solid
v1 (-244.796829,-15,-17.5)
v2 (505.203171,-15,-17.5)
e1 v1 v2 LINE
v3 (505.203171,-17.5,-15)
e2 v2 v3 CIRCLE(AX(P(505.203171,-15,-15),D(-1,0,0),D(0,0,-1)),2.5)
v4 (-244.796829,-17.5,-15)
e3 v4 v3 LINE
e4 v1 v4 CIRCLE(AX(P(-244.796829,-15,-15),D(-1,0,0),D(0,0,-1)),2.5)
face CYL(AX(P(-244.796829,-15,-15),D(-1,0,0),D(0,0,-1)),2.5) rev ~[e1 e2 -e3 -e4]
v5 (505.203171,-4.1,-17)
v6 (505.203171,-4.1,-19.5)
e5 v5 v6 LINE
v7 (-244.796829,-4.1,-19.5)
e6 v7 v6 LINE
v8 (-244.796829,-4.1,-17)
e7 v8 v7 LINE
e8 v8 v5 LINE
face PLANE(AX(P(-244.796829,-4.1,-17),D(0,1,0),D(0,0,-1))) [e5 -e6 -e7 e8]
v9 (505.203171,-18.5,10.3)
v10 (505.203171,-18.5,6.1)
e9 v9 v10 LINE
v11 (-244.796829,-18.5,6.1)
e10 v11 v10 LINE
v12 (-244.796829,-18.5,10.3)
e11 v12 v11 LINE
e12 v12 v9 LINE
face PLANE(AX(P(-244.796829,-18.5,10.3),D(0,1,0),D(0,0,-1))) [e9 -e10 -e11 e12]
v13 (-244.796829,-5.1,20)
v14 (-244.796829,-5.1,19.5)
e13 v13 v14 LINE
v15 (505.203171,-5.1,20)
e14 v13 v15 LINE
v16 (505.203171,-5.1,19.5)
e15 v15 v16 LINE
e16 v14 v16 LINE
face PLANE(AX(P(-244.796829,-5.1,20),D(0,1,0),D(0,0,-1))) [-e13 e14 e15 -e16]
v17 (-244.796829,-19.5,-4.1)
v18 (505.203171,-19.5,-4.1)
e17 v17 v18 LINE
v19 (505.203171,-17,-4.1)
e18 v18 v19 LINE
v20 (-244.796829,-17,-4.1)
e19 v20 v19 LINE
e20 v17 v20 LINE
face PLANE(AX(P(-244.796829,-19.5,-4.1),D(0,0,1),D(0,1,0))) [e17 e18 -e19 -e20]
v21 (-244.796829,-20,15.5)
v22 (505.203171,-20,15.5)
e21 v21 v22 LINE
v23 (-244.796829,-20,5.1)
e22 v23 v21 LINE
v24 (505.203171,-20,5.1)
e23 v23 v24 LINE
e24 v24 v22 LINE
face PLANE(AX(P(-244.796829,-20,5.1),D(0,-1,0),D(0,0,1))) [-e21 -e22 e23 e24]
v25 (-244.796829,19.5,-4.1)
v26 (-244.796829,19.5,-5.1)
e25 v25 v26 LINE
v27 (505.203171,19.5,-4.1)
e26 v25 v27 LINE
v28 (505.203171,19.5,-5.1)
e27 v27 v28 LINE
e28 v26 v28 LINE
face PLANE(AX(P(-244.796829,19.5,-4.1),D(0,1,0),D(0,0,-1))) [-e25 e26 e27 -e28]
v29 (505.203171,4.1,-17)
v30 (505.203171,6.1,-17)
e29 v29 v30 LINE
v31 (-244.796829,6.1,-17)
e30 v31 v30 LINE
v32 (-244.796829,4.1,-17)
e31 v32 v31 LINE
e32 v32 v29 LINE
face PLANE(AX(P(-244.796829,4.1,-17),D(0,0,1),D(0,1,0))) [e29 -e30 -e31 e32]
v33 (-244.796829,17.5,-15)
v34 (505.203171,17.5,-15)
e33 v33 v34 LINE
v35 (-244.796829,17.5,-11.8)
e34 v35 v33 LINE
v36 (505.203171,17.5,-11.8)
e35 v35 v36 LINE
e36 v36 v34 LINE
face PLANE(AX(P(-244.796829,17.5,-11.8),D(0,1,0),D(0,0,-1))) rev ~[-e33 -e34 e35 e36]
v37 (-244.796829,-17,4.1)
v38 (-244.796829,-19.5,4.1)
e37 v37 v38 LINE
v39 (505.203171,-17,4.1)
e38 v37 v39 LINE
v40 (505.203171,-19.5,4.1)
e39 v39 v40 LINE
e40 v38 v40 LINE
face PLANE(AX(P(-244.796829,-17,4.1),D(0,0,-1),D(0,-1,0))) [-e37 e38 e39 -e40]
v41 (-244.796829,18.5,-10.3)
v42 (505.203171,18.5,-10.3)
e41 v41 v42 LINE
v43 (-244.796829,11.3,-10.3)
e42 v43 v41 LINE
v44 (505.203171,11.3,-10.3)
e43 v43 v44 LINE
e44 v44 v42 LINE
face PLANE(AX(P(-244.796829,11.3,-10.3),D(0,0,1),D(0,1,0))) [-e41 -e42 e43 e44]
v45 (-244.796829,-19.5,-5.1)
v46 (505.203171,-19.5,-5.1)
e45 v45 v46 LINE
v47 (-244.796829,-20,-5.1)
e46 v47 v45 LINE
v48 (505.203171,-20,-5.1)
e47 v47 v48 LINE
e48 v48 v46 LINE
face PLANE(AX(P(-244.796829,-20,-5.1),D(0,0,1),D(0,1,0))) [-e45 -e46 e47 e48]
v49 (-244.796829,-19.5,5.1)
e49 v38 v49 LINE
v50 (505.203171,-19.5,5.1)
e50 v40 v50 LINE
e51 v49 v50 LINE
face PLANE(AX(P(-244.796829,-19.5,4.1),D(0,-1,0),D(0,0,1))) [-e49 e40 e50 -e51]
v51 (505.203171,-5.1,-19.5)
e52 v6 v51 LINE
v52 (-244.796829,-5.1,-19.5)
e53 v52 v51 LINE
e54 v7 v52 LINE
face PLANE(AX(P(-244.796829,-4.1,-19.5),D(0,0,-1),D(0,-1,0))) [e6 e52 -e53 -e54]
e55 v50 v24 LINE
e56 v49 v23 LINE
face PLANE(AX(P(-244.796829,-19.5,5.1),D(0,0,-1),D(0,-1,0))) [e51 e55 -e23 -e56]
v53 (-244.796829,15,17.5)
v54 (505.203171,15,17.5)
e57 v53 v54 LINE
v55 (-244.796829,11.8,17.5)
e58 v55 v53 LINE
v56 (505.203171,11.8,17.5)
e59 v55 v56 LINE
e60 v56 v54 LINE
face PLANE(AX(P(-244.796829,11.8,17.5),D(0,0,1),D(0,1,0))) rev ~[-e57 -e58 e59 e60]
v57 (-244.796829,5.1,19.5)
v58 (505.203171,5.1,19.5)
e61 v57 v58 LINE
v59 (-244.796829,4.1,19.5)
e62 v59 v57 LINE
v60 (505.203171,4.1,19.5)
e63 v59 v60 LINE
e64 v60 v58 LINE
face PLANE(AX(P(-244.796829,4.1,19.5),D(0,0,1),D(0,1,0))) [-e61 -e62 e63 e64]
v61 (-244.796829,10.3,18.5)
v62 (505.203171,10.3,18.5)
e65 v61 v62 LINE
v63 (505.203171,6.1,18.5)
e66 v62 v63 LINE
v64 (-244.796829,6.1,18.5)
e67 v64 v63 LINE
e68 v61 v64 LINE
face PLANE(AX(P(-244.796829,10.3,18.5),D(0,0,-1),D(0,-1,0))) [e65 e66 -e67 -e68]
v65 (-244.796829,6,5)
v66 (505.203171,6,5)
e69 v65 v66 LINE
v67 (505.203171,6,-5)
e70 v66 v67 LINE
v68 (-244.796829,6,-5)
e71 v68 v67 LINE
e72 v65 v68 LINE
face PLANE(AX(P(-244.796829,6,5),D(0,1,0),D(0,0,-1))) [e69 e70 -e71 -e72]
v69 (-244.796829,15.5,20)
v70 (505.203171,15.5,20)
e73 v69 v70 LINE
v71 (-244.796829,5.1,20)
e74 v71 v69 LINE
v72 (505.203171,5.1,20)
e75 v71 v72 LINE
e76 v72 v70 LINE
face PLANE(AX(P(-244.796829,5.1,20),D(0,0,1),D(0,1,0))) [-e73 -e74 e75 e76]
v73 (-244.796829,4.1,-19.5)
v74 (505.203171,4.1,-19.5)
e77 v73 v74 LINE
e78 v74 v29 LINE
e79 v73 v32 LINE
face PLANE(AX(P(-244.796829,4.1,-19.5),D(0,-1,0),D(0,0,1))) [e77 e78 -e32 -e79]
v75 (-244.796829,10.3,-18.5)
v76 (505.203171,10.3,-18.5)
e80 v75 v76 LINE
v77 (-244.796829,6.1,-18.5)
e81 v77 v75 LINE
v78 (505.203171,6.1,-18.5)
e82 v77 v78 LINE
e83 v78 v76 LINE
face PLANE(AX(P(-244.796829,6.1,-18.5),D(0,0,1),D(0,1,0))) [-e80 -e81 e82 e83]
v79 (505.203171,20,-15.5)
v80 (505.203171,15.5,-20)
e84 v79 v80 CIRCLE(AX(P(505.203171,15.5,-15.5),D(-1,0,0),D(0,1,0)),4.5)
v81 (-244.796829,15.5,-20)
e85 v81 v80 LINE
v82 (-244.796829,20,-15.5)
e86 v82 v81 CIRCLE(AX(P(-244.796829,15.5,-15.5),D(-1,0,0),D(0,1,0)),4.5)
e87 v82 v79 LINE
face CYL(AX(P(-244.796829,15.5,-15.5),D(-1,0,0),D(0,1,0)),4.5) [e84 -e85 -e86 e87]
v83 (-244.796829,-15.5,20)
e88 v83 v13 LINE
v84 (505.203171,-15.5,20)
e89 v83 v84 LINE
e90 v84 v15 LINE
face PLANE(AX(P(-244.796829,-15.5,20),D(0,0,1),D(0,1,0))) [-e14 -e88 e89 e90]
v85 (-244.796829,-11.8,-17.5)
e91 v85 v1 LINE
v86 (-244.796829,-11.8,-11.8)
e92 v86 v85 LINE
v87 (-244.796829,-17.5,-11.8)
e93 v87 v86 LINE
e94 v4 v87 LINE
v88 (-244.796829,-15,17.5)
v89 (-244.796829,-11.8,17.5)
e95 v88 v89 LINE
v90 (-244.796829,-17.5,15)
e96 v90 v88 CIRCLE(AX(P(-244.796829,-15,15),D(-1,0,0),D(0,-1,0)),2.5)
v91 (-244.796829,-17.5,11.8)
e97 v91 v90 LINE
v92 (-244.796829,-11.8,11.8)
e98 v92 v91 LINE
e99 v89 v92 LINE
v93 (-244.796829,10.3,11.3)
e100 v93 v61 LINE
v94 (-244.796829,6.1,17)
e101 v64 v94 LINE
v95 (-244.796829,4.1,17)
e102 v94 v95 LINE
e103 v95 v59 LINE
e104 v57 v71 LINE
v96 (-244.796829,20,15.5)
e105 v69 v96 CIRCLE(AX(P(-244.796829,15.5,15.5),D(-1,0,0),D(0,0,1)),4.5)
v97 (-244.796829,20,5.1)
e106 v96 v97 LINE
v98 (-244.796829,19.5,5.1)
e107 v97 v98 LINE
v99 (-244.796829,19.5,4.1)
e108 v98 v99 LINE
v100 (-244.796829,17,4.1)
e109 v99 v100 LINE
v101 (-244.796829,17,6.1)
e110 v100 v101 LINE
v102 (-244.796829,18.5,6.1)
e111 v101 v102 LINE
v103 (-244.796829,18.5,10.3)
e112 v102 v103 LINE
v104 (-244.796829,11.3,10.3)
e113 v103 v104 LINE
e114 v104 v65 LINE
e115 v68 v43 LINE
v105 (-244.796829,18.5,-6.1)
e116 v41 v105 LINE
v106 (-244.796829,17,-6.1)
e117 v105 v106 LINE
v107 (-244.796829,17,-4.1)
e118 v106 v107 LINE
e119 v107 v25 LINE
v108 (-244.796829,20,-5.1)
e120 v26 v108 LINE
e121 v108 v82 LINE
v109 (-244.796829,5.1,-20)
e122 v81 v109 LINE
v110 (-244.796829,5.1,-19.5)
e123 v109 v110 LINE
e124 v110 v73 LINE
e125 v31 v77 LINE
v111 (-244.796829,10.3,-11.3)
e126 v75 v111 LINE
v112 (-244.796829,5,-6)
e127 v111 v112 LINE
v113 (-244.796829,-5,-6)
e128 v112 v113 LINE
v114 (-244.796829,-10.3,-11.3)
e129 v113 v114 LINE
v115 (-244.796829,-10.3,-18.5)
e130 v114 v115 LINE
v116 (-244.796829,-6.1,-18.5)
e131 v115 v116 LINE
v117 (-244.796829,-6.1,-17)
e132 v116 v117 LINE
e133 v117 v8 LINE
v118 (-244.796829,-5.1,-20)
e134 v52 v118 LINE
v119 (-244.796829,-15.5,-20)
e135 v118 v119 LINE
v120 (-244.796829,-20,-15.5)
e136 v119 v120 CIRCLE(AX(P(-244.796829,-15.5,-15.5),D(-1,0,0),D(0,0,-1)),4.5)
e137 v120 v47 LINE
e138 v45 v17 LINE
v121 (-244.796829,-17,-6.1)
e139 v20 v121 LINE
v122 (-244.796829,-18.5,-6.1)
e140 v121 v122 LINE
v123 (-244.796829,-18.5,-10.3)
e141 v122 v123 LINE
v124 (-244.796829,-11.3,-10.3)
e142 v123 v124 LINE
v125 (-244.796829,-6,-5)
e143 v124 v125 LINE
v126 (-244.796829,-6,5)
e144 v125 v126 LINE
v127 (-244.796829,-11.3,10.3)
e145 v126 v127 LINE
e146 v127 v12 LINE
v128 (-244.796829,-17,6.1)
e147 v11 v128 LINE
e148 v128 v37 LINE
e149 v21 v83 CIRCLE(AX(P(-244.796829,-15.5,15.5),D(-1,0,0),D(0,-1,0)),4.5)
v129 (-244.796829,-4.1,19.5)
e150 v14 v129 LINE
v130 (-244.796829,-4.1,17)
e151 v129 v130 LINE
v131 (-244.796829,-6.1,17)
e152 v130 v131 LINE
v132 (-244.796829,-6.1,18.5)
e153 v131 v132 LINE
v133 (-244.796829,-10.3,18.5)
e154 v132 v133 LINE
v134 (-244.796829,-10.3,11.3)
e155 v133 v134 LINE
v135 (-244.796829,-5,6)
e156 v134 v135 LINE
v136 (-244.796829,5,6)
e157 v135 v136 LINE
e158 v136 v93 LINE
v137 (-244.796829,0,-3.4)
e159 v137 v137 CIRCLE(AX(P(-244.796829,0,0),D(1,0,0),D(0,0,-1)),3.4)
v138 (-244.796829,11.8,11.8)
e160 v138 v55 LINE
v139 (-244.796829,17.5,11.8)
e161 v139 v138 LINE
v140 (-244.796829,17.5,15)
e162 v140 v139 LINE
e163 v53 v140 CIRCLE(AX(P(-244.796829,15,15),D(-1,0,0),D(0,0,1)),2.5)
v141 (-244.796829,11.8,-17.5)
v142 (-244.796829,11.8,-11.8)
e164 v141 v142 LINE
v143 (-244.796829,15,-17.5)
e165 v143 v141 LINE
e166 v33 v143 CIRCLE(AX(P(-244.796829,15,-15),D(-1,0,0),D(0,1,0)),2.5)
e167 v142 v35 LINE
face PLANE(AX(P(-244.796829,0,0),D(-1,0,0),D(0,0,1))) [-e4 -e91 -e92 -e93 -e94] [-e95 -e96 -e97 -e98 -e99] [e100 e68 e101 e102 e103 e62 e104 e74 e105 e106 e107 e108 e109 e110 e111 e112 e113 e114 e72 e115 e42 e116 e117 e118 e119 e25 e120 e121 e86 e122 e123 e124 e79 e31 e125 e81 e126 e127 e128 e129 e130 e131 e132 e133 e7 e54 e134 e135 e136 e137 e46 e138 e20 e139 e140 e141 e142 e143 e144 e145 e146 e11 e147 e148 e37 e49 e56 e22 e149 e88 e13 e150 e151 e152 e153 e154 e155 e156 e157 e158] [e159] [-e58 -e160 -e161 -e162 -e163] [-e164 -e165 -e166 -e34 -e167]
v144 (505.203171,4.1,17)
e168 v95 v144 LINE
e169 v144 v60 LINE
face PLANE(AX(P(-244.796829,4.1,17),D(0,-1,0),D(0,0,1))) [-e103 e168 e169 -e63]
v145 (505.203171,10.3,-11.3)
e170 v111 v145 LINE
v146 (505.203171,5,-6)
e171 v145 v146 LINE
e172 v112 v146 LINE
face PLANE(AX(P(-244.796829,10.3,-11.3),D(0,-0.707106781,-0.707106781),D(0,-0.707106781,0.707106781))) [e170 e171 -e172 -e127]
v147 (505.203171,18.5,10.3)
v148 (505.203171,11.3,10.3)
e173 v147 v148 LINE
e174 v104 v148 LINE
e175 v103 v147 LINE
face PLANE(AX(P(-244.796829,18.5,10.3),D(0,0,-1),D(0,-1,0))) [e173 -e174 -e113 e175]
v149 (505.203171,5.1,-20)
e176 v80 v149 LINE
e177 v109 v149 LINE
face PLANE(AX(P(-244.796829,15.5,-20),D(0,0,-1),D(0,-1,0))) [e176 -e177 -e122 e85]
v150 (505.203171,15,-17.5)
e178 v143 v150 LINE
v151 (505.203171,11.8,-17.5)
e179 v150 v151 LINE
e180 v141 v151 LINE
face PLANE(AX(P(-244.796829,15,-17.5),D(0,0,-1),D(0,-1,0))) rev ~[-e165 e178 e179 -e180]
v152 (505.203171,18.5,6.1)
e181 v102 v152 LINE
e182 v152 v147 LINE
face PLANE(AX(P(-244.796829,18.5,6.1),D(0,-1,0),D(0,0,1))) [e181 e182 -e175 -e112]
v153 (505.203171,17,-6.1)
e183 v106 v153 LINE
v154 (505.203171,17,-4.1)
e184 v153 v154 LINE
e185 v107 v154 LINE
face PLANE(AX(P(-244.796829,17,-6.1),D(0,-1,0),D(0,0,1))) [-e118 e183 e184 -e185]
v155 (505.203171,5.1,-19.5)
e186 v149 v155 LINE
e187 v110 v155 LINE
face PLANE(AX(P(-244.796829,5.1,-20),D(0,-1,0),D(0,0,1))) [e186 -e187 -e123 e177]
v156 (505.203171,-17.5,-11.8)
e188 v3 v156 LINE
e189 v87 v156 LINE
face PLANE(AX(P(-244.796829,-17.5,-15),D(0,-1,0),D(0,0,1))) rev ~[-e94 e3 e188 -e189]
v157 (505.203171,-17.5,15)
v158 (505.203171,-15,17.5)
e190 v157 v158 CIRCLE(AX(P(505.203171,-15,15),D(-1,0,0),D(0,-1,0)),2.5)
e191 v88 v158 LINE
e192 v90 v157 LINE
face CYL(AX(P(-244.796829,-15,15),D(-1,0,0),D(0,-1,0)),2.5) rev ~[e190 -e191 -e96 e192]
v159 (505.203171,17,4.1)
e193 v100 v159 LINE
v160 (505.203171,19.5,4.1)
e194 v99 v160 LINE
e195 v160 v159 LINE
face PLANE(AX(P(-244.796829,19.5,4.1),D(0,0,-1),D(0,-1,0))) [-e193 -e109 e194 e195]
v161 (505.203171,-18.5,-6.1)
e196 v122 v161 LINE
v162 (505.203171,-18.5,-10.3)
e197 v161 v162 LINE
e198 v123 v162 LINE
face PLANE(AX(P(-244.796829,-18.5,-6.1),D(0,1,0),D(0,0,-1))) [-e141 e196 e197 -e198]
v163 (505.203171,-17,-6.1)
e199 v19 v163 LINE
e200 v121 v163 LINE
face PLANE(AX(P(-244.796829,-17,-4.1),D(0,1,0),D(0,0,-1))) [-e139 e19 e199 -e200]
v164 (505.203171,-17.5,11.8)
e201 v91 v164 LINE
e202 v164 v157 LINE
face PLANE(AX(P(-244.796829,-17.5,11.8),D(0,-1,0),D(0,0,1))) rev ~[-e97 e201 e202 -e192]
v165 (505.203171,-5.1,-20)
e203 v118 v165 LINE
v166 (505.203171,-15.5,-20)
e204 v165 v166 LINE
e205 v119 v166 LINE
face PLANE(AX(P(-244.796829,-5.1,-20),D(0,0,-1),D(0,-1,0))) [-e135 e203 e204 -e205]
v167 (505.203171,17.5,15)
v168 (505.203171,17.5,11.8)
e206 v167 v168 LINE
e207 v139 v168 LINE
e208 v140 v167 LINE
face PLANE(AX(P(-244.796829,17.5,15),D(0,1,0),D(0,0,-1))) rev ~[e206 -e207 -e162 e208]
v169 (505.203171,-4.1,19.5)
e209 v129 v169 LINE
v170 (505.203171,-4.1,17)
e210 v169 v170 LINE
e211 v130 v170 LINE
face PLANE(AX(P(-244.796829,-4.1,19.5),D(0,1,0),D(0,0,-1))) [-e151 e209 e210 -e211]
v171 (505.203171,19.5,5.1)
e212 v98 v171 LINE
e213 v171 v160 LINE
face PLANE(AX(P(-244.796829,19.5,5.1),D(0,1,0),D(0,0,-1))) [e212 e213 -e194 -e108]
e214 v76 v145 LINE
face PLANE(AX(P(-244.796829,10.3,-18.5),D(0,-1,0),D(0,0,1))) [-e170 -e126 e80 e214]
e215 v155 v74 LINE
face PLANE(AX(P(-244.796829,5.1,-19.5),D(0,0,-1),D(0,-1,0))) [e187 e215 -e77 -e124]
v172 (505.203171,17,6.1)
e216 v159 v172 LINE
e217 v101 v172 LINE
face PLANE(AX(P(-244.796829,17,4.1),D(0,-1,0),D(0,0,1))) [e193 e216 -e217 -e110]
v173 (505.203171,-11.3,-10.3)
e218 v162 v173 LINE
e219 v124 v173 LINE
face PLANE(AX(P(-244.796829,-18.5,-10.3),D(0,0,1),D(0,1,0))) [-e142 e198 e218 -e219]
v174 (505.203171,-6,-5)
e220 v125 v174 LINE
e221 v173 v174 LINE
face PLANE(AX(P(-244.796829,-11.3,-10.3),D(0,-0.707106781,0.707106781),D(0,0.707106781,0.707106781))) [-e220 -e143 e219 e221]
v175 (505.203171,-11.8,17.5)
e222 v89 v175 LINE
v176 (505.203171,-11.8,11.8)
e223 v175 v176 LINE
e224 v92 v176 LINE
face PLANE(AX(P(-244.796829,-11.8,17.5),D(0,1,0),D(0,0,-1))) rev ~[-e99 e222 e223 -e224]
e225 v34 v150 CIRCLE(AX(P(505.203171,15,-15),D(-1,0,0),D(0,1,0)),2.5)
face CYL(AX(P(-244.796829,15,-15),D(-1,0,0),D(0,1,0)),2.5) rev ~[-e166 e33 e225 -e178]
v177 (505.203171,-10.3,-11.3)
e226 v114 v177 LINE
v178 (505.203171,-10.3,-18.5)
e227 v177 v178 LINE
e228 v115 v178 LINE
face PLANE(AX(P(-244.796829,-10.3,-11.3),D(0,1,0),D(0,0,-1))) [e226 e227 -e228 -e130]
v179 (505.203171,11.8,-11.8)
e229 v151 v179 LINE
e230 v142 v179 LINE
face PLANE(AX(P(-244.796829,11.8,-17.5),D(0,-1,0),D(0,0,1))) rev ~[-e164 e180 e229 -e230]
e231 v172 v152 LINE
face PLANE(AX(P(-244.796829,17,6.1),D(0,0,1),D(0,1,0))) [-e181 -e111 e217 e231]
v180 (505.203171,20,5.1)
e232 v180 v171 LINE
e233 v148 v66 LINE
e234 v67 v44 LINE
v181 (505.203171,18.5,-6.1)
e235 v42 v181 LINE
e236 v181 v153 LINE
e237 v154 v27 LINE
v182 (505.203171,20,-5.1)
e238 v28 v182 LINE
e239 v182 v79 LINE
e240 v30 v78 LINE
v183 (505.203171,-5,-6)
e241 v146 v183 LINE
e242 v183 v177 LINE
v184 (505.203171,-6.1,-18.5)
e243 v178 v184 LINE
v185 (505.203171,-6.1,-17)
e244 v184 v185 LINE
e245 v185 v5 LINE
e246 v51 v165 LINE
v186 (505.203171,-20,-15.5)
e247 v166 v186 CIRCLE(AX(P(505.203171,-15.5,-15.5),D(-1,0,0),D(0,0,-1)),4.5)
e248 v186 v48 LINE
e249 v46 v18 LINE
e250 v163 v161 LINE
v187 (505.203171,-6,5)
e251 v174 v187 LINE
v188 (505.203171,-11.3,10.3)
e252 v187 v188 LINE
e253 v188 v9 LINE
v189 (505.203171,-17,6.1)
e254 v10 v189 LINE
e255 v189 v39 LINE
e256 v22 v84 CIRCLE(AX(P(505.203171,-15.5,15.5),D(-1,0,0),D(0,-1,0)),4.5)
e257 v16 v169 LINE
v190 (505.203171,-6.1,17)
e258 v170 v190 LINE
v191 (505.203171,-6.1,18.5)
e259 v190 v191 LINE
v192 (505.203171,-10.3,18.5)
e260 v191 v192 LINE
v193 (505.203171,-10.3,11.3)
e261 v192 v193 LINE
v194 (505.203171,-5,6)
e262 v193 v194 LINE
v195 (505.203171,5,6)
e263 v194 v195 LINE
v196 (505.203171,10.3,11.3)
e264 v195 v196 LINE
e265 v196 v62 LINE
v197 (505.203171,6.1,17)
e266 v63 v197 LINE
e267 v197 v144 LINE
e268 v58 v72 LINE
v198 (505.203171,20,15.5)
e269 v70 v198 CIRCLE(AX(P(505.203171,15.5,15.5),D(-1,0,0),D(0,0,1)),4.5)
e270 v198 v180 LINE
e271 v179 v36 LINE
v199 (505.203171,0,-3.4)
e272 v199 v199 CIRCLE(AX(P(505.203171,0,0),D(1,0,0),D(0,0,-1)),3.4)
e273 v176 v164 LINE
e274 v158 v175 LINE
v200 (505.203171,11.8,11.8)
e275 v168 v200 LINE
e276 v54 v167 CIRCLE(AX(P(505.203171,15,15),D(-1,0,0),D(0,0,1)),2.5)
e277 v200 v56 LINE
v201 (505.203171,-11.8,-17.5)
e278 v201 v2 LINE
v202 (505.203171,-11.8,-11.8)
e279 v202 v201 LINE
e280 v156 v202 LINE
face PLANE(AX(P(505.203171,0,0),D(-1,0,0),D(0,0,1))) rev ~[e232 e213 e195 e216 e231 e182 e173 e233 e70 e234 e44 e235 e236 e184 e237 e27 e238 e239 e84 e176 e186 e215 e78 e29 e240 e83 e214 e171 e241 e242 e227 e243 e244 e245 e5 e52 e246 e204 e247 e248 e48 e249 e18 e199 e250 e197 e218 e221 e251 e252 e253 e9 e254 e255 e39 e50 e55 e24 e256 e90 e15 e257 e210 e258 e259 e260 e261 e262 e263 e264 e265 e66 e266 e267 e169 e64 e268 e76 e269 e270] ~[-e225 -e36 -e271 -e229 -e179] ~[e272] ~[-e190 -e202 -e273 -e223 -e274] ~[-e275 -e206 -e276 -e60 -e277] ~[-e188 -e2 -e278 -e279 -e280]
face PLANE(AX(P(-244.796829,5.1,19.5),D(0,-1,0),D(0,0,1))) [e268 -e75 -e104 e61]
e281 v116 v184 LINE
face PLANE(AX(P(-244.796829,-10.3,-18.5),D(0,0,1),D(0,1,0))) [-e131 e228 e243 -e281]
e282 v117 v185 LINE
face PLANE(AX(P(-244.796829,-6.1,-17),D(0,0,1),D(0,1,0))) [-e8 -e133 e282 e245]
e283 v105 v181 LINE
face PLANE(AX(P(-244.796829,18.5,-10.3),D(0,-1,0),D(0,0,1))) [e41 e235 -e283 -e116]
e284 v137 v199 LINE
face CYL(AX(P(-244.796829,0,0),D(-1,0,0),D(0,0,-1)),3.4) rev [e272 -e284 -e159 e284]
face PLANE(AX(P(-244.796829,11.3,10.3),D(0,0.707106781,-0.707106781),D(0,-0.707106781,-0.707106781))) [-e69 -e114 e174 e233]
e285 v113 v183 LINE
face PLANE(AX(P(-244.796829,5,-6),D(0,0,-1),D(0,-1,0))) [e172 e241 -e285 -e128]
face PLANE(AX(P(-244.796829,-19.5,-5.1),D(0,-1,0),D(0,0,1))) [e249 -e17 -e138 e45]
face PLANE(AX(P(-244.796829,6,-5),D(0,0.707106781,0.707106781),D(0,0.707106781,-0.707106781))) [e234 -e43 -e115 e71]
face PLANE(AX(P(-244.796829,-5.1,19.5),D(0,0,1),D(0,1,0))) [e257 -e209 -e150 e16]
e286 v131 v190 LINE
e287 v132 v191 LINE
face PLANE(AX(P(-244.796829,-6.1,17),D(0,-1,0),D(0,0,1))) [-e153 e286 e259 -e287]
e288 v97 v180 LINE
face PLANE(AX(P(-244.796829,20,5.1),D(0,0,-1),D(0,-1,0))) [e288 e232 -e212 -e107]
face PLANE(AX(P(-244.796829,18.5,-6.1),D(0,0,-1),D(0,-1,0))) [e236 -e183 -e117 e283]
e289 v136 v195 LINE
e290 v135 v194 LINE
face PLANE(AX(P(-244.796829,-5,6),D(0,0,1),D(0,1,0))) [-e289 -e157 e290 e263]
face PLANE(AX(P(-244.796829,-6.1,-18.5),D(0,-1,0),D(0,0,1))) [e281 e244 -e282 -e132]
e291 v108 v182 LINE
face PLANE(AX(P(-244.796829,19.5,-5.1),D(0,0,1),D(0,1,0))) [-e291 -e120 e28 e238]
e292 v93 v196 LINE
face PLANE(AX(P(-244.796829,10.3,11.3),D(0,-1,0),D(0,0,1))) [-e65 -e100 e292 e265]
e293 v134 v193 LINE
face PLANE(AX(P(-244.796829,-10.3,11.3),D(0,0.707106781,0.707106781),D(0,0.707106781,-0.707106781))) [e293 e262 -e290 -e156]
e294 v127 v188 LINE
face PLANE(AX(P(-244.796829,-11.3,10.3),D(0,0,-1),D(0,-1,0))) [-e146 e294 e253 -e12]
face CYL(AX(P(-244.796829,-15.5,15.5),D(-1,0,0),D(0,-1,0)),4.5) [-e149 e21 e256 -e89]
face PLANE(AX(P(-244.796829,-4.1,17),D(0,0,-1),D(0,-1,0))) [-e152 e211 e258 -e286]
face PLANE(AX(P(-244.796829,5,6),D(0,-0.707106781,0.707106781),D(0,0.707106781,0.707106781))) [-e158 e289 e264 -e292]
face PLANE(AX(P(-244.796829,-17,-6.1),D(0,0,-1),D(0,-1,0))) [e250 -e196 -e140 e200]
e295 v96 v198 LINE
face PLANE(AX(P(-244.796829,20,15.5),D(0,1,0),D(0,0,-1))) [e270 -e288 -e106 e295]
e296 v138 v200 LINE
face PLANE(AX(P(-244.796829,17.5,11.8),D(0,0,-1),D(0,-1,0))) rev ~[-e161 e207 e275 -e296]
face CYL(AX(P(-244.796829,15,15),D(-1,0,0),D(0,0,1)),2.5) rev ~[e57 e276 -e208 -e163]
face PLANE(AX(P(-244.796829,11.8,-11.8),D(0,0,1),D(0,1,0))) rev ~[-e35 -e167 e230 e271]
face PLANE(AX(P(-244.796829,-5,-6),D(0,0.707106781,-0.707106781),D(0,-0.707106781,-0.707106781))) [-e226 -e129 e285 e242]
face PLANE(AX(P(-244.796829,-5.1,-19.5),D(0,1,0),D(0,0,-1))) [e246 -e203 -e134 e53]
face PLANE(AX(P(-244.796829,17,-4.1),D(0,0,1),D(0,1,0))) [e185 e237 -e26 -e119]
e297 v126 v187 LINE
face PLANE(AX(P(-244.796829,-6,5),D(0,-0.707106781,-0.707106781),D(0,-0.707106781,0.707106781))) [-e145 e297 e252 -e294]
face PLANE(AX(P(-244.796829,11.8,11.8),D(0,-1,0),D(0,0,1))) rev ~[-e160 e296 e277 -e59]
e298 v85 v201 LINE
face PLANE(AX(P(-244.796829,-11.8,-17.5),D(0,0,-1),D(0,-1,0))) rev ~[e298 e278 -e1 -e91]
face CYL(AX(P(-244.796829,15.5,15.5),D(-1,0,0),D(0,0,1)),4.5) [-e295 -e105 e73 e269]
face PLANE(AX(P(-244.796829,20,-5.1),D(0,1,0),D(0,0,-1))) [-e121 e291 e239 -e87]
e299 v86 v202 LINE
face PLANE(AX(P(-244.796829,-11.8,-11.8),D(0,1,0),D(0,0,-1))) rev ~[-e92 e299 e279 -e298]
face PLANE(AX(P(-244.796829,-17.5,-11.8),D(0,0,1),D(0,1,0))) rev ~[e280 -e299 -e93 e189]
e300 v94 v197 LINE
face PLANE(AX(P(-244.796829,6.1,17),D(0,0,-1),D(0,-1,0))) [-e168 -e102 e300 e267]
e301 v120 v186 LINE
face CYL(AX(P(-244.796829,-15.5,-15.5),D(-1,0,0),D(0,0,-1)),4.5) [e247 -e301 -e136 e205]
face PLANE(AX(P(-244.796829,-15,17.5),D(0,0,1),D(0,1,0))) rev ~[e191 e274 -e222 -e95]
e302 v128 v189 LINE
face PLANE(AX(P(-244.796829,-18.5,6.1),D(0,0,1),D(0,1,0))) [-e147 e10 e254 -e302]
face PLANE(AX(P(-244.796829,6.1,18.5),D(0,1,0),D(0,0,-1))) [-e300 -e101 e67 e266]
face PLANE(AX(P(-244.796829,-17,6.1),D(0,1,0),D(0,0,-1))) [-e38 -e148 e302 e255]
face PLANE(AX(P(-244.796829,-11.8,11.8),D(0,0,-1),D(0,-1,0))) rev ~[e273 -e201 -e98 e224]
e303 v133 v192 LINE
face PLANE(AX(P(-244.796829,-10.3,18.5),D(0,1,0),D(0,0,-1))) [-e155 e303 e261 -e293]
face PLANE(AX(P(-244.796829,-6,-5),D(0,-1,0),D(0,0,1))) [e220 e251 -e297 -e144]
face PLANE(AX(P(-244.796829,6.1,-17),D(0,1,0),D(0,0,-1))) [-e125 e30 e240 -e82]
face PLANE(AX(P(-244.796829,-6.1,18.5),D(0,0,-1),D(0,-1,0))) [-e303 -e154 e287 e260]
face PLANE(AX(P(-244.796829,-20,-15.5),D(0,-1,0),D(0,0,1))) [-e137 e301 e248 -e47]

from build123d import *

# Parameters (mm, degrees)
SKETCH1_R                 = 3.4
F_40_X_40L_X_R4_5_1_DEPTH = 750


with BuildPart() as part:
    # Sketch1 → 铝型材 40 X 40L X R4.5(1) (new body)
    with BuildSketch(Plane(origin=(-244.796828543, 0, 0), x_dir=(0, 0, -1), z_dir=(1, 0, 0))):
        with BuildLine():
            Line((-5.1, 20), (-5.1, 19.5))
            Line((-5.1, 19.5), (-4.1, 19.5))
            Line((-4.1, 19.5), (-4.1, 17))
            Line((-4.1, 17), (-6.1, 17))
            Line((-6.1, 17), (-6.1, 18.5))
            Line((-6.1, 18.5), (-10.3, 18.5))
            Line((-10.3, 18.5), (-10.3, 11.3))
            Line((-10.3, 11.3), (-5, 6))
            Line((-5, 6), (5, 6))
            Line((5, 6), (10.3, 11.3))
            Line((10.3, 11.3), (10.3, 18.5))
            Line((10.3, 18.5), (6.1, 18.5))
            Line((6.1, 18.5), (6.1, 17))
            Line((6.1, 17), (4.1, 17))
            Line((4.1, 17), (4.1, 19.5))
            Line((4.1, 19.5), (5.1, 19.5))
            Line((5.1, 19.5), (5.1, 20))
            Line((5.1, 20), (15.5, 20))
            ThreePointArc((15.5, 20), (18.681980515, 18.681980515), (20, 15.5))
            Line((20, 15.5), (20, 5.1))
            Line((20, 5.1), (19.5, 5.1))
            Line((19.5, 5.1), (19.5, 4.1))
            Line((19.5, 4.1), (17, 4.1))
            Line((17, 4.1), (17, 6.1))
            Line((17, 6.1), (18.5, 6.1))
            Line((18.5, 6.1), (18.5, 10.3))
            Line((18.5, 10.3), (11.3, 10.3))
            Line((11.3, 10.3), (6, 5))
            Line((6, 5), (6, -5))
            Line((6, -5), (11.3, -10.3))
            Line((11.3, -10.3), (18.5, -10.3))
            Line((18.5, -10.3), (18.5, -6.1))
            Line((18.5, -6.1), (17, -6.1))
            Line((17, -6.1), (17, -4.1))
            Line((17, -4.1), (19.5, -4.1))
            Line((19.5, -4.1), (19.5, -5.1))
            Line((19.5, -5.1), (20, -5.1))
            Line((20, -5.1), (20, -15.5))
            ThreePointArc((20, -15.5), (18.681980515, -18.681980515), (15.5, -20))
            Line((15.5, -20), (5.1, -20))
            Line((5.1, -20), (5.1, -19.5))
            Line((5.1, -19.5), (4.1, -19.5))
            Line((4.1, -19.5), (4.1, -17))
            Line((4.1, -17), (6.1, -17))
            Line((6.1, -17), (6.1, -18.5))
            Line((6.1, -18.5), (10.3, -18.5))
            Line((10.3, -18.5), (10.3, -11.3))
            Line((10.3, -11.3), (5, -6))
            Line((5, -6), (-5, -6))
            Line((-5, -6), (-10.3, -11.3))
            Line((-10.3, -11.3), (-10.3, -18.5))
            Line((-10.3, -18.5), (-6.1, -18.5))
            Line((-6.1, -18.5), (-6.1, -17))
            Line((-6.1, -17), (-4.1, -17))
            Line((-4.1, -17), (-4.1, -19.5))
            Line((-4.1, -19.5), (-5.1, -19.5))
            Line((-5.1, -19.5), (-5.1, -20))
            Line((-5.1, -20), (-15.5, -20))
            ThreePointArc((-15.5, -20), (-18.681980515, -18.681980515), (-20, -15.5))
            Line((-20, -15.5), (-20, -5.1))
            Line((-20, -5.1), (-19.5, -5.1))
            Line((-19.5, -5.1), (-19.5, -4.1))
            Line((-19.5, -4.1), (-17, -4.1))
            Line((-17, -4.1), (-17, -6.1))
            Line((-17, -6.1), (-18.5, -6.1))
            Line((-18.5, -6.1), (-18.5, -10.3))
            Line((-18.5, -10.3), (-11.3, -10.3))
            Line((-11.3, -10.3), (-6, -5))
            Line((-6, -5), (-6, 5))
            Line((-6, 5), (-11.3, 10.3))
            Line((-11.3, 10.3), (-18.5, 10.3))
            Line((-18.5, 10.3), (-18.5, 6.1))
            Line((-18.5, 6.1), (-17, 6.1))
            Line((-17, 6.1), (-17, 4.1))
            Line((-17, 4.1), (-19.5, 4.1))
            Line((-19.5, 4.1), (-19.5, 5.1))
            Line((-19.5, 5.1), (-20, 5.1))
            Line((-20, 5.1), (-20, 15.5))
            ThreePointArc((-20, 15.5), (-18.681980515, 18.681980515), (-15.5, 20))
            Line((-15.5, 20), (-5.1, 20))
        make_face()
        Circle(SKETCH1_R, mode=Mode.SUBTRACT)
        with BuildLine():
            Line((11.8, 17.5), (15, 17.5))
            ThreePointArc((15, 17.5), (16.767766953, 16.767766953), (17.5, 15))
            Line((17.5, 15), (17.5, 11.8))
            Line((17.5, 11.8), (11.8, 11.8))
            Line((11.8, 11.8), (11.8, 17.5))
        make_face(mode=Mode.SUBTRACT)
        with BuildLine():
            Line((-15, 17.5), (-11.8, 17.5))
            Line((-11.8, 17.5), (-11.8, 11.8))
            Line((-11.8, 11.8), (-17.5, 11.8))
            Line((-17.5, 11.8), (-17.5, 15))
            ThreePointArc((-17.5, 15), (-16.767766953, 16.767766953), (-15, 17.5))
        make_face(mode=Mode.SUBTRACT)
        with BuildLine():
            Line((-17.5, -11.8), (-11.8, -11.8))
            Line((-11.8, -11.8), (-11.8, -17.5))
            Line((-11.8, -17.5), (-15, -17.5))
            ThreePointArc((-15, -17.5), (-16.767766953, -16.767766953), (-17.5, -15))
            Line((-17.5, -15), (-17.5, -11.8))
        make_face(mode=Mode.SUBTRACT)
        with BuildLine():
            Line((11.8, -11.8), (17.5, -11.8))
            Line((17.5, -11.8), (17.5, -15))
            ThreePointArc((17.5, -15), (16.767766953, -16.767766953), (15, -17.5))
            Line((15, -17.5), (11.8, -17.5))
            Line((11.8, -17.5), (11.8, -11.8))
        make_face(mode=Mode.SUBTRACT)
    extrude(amount=F_40_X_40L_X_R4_5_1_DEPTH)


solid = part.part
